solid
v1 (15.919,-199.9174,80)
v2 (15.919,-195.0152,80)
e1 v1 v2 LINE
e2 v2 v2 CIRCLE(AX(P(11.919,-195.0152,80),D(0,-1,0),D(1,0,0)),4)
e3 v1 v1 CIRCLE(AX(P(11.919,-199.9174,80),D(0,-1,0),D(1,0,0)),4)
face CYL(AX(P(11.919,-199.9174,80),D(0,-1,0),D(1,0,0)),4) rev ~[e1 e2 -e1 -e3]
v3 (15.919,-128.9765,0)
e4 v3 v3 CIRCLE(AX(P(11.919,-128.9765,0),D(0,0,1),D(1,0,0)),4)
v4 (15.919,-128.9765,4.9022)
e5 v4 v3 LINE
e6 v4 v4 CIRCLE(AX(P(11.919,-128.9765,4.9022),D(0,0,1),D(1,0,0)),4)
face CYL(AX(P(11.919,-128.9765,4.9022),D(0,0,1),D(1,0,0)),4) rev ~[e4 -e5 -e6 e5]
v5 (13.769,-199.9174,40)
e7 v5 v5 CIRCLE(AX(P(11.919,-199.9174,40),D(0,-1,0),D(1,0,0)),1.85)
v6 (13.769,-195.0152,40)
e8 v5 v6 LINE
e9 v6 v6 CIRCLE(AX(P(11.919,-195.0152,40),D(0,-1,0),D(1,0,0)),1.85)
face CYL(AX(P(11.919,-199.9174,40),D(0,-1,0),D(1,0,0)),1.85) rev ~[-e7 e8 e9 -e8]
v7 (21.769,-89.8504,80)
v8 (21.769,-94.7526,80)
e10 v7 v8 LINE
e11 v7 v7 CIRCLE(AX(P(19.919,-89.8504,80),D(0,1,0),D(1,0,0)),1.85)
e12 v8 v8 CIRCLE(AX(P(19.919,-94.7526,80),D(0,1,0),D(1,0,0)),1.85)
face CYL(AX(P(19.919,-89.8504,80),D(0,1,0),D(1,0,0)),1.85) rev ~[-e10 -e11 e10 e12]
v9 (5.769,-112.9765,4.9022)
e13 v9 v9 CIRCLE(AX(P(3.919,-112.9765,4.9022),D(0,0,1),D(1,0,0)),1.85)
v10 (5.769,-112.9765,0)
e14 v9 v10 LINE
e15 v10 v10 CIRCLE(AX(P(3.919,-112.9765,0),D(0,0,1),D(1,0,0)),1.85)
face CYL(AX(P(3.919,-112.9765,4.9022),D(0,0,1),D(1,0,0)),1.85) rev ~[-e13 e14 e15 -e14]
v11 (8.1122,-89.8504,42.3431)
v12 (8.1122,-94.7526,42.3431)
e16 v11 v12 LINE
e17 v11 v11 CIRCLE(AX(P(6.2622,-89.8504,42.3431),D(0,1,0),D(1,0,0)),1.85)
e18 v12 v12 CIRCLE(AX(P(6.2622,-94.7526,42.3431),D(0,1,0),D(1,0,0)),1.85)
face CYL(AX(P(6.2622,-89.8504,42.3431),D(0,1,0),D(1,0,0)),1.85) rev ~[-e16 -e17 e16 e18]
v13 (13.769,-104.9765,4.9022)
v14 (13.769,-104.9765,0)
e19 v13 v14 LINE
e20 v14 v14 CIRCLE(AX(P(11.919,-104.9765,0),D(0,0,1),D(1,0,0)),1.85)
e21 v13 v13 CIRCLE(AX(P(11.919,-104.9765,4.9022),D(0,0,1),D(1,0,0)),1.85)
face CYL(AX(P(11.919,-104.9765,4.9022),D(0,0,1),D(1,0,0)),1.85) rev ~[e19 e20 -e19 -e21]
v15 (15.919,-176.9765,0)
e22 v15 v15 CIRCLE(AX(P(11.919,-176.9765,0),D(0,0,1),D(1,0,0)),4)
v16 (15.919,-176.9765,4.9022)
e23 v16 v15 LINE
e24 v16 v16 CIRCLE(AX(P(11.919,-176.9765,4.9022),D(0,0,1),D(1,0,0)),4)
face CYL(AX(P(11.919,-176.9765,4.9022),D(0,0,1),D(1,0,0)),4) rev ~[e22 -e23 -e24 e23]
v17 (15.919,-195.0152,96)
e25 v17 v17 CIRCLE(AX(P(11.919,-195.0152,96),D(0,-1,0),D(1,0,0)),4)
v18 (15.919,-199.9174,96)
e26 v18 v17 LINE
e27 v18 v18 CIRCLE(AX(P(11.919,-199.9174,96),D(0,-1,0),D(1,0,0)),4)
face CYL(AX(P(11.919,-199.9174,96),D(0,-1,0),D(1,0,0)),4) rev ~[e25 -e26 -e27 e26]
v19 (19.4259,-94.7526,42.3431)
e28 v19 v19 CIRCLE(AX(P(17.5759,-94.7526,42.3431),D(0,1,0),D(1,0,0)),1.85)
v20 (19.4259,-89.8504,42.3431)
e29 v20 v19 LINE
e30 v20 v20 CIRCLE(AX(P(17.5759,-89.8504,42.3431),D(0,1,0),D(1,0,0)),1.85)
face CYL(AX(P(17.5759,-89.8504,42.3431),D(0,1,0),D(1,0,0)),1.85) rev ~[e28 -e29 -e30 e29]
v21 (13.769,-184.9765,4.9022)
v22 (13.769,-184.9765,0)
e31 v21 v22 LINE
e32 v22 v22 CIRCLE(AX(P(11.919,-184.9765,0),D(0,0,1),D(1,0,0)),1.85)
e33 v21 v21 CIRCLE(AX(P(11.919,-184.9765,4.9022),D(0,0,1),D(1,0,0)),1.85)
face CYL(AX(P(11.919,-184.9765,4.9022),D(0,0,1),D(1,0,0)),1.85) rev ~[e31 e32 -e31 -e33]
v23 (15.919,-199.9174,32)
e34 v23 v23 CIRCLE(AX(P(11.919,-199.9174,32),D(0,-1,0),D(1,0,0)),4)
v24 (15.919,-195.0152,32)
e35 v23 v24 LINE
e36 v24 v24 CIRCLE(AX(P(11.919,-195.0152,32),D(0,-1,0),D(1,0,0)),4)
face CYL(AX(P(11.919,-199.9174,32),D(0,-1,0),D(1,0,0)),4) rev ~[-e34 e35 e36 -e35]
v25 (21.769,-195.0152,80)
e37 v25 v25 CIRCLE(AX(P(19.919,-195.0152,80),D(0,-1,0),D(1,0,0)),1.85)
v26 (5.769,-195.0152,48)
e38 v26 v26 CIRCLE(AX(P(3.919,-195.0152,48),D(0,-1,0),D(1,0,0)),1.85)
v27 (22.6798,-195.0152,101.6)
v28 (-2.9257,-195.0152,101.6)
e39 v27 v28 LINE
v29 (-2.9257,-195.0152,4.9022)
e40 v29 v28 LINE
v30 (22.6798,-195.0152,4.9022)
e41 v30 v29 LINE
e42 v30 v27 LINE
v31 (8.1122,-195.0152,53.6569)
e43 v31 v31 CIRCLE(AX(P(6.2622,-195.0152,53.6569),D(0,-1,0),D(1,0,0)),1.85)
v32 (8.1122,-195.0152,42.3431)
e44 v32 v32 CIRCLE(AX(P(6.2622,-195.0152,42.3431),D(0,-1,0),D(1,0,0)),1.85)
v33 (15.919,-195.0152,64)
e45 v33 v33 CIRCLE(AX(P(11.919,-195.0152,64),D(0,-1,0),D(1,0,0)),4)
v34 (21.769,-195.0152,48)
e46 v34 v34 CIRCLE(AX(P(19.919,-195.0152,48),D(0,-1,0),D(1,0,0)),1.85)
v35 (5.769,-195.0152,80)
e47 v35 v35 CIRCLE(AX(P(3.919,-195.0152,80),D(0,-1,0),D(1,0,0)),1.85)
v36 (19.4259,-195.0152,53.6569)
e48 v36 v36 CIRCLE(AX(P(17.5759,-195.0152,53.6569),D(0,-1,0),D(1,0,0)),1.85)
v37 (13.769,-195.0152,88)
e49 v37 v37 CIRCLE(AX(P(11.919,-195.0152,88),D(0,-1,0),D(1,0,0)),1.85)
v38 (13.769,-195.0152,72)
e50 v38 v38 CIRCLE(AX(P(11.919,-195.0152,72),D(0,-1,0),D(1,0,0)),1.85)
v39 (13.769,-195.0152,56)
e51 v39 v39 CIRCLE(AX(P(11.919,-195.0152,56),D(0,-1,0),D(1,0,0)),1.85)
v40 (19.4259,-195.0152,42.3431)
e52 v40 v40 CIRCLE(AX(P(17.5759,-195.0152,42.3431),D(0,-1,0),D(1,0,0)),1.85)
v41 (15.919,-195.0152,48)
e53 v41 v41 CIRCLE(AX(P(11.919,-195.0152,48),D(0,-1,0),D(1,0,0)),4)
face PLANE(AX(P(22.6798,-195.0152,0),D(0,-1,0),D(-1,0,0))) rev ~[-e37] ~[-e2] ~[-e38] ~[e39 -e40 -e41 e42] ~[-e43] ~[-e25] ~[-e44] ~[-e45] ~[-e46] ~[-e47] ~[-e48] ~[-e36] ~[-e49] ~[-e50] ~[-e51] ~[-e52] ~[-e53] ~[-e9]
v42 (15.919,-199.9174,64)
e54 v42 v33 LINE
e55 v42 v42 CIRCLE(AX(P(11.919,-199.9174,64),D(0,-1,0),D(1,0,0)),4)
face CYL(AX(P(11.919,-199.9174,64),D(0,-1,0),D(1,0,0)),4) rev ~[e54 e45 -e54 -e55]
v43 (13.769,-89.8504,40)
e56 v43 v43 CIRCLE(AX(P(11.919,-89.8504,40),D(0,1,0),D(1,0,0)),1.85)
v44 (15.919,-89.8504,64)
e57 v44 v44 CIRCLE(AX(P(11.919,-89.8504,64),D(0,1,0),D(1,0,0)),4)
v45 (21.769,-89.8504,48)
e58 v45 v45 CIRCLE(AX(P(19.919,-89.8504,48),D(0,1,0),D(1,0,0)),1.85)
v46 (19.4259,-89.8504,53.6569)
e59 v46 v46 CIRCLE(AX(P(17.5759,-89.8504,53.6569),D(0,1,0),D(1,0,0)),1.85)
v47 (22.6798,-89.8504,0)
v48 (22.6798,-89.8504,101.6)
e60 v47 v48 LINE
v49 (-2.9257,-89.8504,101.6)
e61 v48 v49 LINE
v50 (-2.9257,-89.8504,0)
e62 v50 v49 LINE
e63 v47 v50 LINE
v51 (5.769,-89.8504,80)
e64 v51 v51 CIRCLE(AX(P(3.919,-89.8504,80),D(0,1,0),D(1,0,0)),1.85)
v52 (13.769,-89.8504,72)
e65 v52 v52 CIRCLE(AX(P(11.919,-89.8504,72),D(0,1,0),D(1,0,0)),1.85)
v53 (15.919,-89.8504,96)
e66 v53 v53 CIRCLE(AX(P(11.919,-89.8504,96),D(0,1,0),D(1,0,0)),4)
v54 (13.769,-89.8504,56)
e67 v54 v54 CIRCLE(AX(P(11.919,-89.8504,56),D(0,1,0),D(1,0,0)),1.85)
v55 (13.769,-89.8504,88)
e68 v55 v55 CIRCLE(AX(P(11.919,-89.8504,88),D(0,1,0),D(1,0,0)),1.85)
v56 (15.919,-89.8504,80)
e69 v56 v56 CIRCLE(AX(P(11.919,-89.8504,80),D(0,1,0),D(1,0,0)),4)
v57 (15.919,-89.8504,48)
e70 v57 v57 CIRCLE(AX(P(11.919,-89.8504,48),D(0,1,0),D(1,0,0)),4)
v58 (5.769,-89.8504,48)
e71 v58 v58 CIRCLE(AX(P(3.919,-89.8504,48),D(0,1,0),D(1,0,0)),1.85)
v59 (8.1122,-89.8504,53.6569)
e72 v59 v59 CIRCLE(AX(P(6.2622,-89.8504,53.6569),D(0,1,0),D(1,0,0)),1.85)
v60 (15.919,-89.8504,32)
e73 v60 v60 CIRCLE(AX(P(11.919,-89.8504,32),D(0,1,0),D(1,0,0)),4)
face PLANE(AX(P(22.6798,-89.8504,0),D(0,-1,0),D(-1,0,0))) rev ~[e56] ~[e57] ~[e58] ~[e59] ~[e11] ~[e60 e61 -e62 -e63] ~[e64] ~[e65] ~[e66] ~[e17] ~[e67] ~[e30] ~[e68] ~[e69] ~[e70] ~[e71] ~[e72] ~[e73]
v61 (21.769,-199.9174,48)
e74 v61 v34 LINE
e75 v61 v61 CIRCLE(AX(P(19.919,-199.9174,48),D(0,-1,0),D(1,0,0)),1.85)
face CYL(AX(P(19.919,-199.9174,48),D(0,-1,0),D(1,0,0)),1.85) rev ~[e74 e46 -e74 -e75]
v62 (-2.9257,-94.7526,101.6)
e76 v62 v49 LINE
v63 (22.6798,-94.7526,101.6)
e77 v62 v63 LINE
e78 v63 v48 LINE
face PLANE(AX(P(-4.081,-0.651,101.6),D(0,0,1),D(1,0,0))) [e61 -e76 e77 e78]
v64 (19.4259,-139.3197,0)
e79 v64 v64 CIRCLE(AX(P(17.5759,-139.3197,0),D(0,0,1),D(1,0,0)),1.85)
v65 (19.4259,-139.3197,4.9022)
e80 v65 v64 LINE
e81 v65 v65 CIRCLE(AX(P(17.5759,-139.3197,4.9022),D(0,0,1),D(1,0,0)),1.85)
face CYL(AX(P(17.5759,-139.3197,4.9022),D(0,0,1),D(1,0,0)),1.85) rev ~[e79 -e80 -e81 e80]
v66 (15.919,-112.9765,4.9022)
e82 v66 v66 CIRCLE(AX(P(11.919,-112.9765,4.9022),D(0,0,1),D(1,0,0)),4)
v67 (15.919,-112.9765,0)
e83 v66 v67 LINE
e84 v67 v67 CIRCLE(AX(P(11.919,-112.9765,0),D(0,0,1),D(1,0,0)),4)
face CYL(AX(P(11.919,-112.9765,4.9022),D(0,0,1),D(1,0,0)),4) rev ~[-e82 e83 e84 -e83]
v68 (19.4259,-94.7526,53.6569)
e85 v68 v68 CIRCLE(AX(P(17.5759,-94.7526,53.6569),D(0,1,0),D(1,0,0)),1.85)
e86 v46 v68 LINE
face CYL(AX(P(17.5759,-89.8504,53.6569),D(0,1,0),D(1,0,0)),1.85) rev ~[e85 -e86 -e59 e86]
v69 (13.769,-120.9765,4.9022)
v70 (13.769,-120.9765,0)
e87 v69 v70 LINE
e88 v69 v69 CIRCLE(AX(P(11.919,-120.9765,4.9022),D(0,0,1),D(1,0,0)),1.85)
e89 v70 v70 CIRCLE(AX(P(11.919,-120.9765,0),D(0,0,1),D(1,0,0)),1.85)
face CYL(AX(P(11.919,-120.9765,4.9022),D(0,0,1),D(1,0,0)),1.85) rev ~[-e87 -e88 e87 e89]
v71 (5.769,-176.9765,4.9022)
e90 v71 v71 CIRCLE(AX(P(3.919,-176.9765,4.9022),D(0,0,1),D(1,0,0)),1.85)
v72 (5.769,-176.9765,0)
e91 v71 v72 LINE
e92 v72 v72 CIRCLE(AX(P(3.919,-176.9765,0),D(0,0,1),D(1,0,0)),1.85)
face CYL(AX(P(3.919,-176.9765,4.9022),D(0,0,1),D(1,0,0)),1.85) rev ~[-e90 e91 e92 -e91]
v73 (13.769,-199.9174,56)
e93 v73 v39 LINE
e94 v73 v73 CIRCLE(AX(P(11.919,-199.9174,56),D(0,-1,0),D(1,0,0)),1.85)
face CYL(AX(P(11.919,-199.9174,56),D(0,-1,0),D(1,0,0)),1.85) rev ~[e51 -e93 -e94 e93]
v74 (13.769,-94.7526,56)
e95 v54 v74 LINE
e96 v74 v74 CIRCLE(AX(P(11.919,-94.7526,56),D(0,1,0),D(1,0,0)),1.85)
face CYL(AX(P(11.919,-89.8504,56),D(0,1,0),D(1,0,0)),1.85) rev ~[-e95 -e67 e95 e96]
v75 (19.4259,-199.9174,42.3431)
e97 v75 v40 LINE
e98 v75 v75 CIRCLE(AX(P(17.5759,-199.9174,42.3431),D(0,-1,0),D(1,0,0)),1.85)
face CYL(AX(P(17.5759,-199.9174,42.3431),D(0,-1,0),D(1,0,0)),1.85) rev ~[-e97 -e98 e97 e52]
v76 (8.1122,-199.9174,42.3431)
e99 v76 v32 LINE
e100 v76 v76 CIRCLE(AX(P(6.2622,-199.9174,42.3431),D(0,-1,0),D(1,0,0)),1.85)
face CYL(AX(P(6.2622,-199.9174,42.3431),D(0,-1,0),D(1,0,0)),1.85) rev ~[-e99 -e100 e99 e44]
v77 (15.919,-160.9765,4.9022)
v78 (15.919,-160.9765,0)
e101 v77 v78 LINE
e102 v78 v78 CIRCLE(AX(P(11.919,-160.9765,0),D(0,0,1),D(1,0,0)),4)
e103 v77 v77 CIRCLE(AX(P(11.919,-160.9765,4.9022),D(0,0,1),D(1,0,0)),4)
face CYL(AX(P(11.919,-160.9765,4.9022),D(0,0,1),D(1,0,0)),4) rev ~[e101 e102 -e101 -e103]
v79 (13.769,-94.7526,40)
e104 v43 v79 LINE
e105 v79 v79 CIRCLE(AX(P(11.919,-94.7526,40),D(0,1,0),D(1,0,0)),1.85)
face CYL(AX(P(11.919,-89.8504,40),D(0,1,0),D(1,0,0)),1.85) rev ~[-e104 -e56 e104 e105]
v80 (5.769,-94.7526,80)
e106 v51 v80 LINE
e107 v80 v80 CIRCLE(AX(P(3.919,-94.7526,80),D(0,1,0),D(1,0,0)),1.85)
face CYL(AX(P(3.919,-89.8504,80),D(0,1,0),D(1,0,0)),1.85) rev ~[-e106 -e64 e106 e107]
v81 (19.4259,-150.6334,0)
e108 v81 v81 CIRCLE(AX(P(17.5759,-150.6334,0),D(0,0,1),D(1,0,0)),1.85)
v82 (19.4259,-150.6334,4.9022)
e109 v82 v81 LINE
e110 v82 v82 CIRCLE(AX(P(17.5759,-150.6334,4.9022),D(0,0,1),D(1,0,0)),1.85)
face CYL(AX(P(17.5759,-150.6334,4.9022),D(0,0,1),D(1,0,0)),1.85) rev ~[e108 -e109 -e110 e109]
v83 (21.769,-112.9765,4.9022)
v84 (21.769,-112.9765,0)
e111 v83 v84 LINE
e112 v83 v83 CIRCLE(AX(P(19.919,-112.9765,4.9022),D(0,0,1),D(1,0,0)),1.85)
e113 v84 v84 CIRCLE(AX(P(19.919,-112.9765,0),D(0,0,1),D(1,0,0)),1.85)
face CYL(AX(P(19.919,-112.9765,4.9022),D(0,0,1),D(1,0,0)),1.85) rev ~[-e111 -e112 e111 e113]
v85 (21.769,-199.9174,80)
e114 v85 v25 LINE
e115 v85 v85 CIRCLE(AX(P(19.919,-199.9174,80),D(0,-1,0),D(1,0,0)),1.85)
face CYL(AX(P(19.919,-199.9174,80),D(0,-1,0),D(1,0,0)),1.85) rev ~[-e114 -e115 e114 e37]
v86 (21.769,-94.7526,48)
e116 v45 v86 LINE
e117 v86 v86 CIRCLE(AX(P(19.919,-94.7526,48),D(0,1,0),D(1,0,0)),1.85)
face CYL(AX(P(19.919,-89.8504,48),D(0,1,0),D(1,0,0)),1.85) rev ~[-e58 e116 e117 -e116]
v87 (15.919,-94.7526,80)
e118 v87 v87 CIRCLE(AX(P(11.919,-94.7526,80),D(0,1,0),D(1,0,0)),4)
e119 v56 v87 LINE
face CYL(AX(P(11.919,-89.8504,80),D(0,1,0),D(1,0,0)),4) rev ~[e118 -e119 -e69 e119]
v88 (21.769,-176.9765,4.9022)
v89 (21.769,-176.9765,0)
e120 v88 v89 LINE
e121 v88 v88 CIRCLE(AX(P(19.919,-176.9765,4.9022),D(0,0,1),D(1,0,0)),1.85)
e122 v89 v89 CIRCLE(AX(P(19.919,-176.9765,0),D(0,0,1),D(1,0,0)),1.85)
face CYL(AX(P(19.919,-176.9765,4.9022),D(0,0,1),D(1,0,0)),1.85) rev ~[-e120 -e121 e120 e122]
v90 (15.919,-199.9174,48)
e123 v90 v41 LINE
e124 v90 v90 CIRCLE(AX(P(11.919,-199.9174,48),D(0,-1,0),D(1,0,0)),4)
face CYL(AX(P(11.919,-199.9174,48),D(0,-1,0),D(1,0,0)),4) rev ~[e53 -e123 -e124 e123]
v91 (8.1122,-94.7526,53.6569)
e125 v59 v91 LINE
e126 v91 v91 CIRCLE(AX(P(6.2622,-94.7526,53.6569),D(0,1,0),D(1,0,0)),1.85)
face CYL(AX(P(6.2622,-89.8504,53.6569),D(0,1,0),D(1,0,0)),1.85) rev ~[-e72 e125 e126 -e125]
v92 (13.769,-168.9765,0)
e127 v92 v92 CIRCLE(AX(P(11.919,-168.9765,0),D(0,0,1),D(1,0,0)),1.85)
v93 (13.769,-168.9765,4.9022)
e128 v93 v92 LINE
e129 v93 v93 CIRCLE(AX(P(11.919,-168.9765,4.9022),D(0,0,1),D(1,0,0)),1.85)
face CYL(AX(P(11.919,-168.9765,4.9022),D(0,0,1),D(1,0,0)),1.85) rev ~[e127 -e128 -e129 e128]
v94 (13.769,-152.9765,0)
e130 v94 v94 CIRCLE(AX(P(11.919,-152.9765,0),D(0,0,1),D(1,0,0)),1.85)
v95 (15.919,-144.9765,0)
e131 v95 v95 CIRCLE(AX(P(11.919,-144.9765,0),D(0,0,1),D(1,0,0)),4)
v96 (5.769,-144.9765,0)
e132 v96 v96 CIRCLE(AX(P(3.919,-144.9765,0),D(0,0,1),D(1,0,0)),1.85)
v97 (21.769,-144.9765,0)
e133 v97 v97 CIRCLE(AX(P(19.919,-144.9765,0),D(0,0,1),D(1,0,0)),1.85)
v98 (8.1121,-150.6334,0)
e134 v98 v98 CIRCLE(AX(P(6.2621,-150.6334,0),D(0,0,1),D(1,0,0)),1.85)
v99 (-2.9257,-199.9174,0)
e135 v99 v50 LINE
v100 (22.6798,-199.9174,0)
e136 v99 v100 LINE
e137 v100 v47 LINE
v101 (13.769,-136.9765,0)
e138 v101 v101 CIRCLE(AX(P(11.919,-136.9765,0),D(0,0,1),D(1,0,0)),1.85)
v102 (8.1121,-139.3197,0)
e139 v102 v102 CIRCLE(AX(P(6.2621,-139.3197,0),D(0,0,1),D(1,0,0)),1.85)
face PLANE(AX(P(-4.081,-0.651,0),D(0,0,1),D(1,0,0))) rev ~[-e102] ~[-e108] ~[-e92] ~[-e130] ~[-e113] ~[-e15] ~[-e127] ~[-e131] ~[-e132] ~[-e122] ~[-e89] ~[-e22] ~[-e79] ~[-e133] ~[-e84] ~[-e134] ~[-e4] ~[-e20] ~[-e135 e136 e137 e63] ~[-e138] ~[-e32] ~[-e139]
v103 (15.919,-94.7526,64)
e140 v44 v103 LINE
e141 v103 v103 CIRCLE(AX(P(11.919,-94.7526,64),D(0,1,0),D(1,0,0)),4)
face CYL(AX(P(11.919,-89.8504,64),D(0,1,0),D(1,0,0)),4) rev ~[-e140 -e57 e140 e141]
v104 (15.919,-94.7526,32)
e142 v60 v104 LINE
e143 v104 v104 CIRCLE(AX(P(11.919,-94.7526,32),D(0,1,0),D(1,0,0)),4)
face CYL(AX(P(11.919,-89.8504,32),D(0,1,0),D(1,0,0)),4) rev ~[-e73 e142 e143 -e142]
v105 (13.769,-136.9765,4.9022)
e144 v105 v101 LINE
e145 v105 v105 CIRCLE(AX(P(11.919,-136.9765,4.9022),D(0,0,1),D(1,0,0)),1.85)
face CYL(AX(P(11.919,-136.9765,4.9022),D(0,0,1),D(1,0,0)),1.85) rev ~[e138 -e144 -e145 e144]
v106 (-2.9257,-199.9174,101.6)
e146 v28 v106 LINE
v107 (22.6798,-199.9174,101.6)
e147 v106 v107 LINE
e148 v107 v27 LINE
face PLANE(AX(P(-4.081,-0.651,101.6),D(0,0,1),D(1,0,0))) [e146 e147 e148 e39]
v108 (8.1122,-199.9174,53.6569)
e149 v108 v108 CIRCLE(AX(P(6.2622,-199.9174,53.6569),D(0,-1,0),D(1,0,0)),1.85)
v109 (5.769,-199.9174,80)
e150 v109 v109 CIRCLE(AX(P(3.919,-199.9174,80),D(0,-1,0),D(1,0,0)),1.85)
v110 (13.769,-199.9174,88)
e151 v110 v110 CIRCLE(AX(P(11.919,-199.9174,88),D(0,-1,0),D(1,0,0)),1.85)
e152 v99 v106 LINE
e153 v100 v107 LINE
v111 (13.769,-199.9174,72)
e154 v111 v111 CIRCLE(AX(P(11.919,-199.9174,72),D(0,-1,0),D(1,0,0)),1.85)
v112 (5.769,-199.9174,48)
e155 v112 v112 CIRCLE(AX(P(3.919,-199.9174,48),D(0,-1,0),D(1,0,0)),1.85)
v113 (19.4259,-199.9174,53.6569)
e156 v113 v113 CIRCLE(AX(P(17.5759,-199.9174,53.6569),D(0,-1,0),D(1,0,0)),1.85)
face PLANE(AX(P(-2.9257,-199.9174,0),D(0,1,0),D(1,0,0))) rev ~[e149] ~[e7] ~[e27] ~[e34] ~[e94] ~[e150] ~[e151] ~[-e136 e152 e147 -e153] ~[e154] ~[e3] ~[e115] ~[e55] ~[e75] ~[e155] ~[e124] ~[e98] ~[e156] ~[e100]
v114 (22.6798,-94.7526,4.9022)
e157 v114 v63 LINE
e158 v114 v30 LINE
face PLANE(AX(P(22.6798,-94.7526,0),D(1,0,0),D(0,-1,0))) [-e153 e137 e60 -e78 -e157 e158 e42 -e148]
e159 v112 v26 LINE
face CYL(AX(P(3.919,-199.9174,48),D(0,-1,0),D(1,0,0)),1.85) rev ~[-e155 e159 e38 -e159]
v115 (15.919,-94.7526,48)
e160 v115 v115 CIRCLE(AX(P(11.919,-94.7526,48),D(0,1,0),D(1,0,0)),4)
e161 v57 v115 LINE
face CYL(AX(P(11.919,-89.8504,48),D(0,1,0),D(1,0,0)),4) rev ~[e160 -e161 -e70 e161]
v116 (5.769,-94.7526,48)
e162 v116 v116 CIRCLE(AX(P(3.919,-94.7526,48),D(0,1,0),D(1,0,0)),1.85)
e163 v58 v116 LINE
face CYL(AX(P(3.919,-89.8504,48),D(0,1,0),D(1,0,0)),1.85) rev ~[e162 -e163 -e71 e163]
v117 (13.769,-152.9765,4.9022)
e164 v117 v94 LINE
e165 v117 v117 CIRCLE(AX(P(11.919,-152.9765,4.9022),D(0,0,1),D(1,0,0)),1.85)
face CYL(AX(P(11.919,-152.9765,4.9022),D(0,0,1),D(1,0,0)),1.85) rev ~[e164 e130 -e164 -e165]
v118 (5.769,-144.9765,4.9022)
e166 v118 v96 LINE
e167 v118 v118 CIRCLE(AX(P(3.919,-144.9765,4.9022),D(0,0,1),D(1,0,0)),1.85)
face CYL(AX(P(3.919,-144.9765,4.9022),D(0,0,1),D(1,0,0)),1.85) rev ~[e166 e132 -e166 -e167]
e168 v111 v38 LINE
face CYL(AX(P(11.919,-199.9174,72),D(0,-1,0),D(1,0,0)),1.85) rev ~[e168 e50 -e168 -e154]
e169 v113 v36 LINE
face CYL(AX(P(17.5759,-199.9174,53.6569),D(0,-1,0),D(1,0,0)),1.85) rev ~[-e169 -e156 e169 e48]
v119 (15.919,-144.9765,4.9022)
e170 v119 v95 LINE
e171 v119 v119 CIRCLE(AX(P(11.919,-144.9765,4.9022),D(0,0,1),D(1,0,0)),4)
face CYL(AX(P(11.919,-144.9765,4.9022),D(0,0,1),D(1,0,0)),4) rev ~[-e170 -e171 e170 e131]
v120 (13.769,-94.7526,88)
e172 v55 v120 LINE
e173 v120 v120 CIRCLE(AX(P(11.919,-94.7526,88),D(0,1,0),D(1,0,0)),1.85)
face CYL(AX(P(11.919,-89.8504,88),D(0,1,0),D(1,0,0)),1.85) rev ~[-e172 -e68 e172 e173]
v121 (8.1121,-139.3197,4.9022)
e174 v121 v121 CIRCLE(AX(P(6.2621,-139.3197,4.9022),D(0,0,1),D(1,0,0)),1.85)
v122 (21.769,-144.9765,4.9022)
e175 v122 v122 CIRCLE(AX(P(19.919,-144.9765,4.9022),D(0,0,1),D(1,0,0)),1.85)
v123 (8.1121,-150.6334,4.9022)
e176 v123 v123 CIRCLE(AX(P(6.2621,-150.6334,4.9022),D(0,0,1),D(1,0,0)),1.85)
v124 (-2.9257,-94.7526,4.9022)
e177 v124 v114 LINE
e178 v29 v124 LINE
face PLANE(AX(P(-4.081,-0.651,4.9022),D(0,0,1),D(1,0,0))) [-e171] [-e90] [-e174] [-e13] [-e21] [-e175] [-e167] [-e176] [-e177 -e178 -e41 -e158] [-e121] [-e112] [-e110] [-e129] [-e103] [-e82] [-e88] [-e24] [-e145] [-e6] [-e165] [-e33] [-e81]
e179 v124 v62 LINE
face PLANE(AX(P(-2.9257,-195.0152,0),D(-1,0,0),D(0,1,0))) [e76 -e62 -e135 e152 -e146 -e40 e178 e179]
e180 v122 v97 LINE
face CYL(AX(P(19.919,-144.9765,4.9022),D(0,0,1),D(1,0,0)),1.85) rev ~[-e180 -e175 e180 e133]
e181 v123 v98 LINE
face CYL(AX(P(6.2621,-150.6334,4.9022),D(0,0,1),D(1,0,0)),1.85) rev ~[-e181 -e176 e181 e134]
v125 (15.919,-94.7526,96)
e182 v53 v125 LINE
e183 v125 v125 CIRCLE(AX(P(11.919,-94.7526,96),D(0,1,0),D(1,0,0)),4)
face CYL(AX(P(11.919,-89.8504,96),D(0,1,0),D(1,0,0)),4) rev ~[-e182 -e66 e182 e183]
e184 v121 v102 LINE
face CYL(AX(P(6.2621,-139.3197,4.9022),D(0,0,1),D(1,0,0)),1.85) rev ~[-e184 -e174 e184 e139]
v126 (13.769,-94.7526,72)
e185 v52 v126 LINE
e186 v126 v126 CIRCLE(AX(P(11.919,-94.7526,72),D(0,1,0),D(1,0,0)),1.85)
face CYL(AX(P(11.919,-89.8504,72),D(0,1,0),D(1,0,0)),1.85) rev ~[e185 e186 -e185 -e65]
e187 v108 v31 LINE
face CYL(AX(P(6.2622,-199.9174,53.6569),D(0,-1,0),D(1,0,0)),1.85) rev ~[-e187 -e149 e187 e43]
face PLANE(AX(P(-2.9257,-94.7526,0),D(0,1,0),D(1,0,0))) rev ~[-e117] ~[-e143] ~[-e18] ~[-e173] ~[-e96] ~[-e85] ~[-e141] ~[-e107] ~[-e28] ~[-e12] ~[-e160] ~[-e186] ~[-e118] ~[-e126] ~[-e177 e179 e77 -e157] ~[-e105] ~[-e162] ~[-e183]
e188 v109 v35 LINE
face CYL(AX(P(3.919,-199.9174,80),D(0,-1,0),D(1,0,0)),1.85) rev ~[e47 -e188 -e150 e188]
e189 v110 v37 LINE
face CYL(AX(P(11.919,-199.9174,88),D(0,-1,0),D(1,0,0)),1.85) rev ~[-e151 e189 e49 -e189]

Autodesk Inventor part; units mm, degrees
ref_plane "YZ Plane" through (0, 0, 0) normal (1, 0, 0) x (0, 1, 0)
ref_plane "XZ Plane" through (0, 0, 0) normal (0, 1, 0) x (-1, 0, 0)
ref_plane "XY Plane" through (0, 0, 0) normal (0, 0, 1) x (1, 0, 0)
ref_plane "Work Plane1" through (-4.081, -0.651, 0) normal (0, 0, 1) x (1, 0, 0)
sketch "Sketch1" plane through (-4.081, -0.651, 0) normal (0, 0, 1) x (1, 0, 0)
  line L0 (1.1553, -194.3642) -> (1.1553, -199.2664)
  line L1 (1.1553, -94.1016) -> (1.1553, -89.1994)
  line L2 (1.1553, -199.2664) -> (26.7608, -199.2664)
  line L3 (26.7608, -199.2664) -> (26.7608, -194.3642)
  line L4 (26.7608, -194.3642) -> (1.1553, -194.3642)
  line L5 (1.1553, -194.3642) -> (1.1553, -94.1016)
  line L6 (1.1553, -94.1016) -> (26.7608, -94.1016)
  line L7 (26.7608, -94.1016) -> (26.7608, -89.1994)
  line L8 (26.7608, -89.1994) -> (1.1553, -89.1994)
  point P0 (4.081, 0.651)
  dimension "d8" = 20.4978
  dimension "d11" = 0
  dimension "d0" = 4.9022
  dimension "d1" = 4.9022
extrude "Extrusion1" add sketch "Sketch1" along normal blind 101.6
ref_plane "Work Plane2" through (-4.081, -0.651, 0) normal (0, 0, 1) x (1, 0, 0)
sketch "Sketch2" plane through (-4.081, -0.651, 0) normal (0, 0, 1) x (1, 0, 0)
  line L0 (1.1553, -194.3642) -> (1.1553, -199.2664) projected
  line L1 (1.1553, -94.1016) -> (26.7608, -94.1016) projected
  line L2 (1.1553, -194.3642) -> (1.1553, -94.1016)
  line L3 (1.1553, -94.1016) -> (26.7608, -94.1016)
  line L4 (26.7608, -194.3642) -> (1.1553, -194.3642) projected
  line L5 (26.7608, -94.1016) -> (26.7608, -194.3642)
  line L6 (26.7608, -194.3642) -> (1.1553, -194.3642)
  point P0 (4.081, 0.651)
  dimension "d8" = 20.4978
  dimension "d11" = 0
extrude "Extrusion2" add sketch "Sketch2" along normal blind 4.9022
sketch "Sketch3" plane through (-2.9257, -199.9174, 0) normal (0, -1, 0) x (1, 0, 0)
  circle A0 centre (14.8447, 24) radius 1.85 projected
  circle A1 centre (14.8447, 8) radius 1.85 projected
  circle A2 centre (6.8447, 16) radius 1.85 projected
  circle A3 centre (22.8447, 16) radius 1.85 projected
  circle A4 centre (14.8447, 16) radius 4 projected
  circle A5 centre (14.8447, 16) radius 4
  circle A6 centre (6.8447, 16) radius 1.85
  circle A7 centre (14.8447, 8) radius 1.85
  circle A8 centre (14.8447, 24) radius 1.85
  circle A9 centre (22.8447, 16) radius 1.85
  point P0 (2.9257, 0)
sketch "Sketch4" plane through (-2.9257, -89.8504, 0) normal (0, 1, 0) x (1, 0, 0)
  line L0 (28.3447, 32) -> (28.3447, -384) projected
  line L1 (28.3447, 32) -> (1.3447, 32) projected
  arc A0 (1.3447, 32) -> (-1.1553, 29.5) centre (1.3447, 29.5) ccw projected
  line L2 (-1.1553, -381.5) -> (-1.1553, 29.5) projected
  arc A1 (-1.1553, -381.5) -> (1.3447, -384) centre (1.3447, -381.5) ccw projected
  line L3 (28.3447, -384) -> (1.3447, -384) projected
  circle A2 centre (14.8447, -256) radius 4 projected
  circle A3 centre (14.8447, -288) radius 4 projected
  circle A4 centre (14.8447, -320) radius 4 projected
  circle A5 centre (14.8447, -352) radius 4 projected
  circle A6 centre (14.8447, 16) radius 4 projected
  circle A7 centre (6.8447, 16) radius 1.85 projected
  circle A8 centre (22.8447, 16) radius 1.85 projected
  circle A9 centre (14.8447, 8) radius 1.85 projected
  circle A10 centre (14.8447, 24) radius 1.85 projected
  circle A11 centre (9.1879, 10.3431) radius 1.85 projected
  circle A12 centre (9.1879, 21.6569) radius 1.85 projected
  circle A13 centre (20.5016, 21.6569) radius 1.85 projected
  circle A14 centre (20.5016, 10.3431) radius 1.85 projected
  circle A15 centre (14.8447, -48) radius 4 projected
  circle A16 centre (6.8447, -48) radius 1.85 projected
  circle A17 centre (22.8447, -48) radius 1.85 projected
  circle A18 centre (14.8447, -56) radius 1.85 projected
  circle A19 centre (14.8447, -40) radius 1.85 projected
  circle A20 centre (9.1879, -53.6569) radius 1.85 projected
  circle A21 centre (9.1879, -42.3431) radius 1.85 projected
  circle A22 centre (20.5016, -42.3431) radius 1.85 projected
  circle A23 centre (20.5016, -53.6569) radius 1.85 projected
  circle A24 centre (14.8447, -112) radius 4 projected
  circle A25 centre (6.8447, -112) radius 1.85 projected
  circle A26 centre (22.8447, -112) radius 1.85 projected
  circle A27 centre (14.8447, -120) radius 1.85 projected
  circle A28 centre (14.8447, -104) radius 1.85 projected
  circle A29 centre (9.1879, -117.6569) radius 1.85 projected
  circle A30 centre (9.1879, -106.3431) radius 1.85 projected
  circle A31 centre (20.5016, -106.3431) radius 1.85 projected
  circle A32 centre (20.5016, -117.6569) radius 1.85 projected
  circle A33 centre (14.8447, -176) radius 4 projected
  circle A34 centre (6.8447, -176) radius 1.85 projected
  circle A35 centre (22.8447, -176) radius 1.85 projected
  circle A36 centre (14.8447, -184) radius 1.85 projected
  circle A37 centre (14.8447, -168) radius 1.85 projected
  circle A38 centre (9.1879, -181.6569) radius 1.85 projected
  circle A39 centre (9.1879, -170.3431) radius 1.85 projected
  circle A40 centre (20.5016, -170.3431) radius 1.85 projected
  circle A41 centre (20.5016, -181.6569) radius 1.85 projected
  circle A42 centre (14.8447, -240) radius 4 projected
  circle A43 centre (6.8447, -240) radius 1.85 projected
  circle A44 centre (22.8447, -240) radius 1.85 projected
  circle A45 centre (14.8447, -248) radius 1.85 projected
  circle A46 centre (14.8447, -232) radius 1.85 projected
  circle A47 centre (9.1879, -245.6569) radius 1.85 projected
  circle A48 centre (9.1879, -234.3431) radius 1.85 projected
  circle A49 centre (20.5016, -234.3431) radius 1.85 projected
  circle A50 centre (20.5016, -245.6569) radius 1.85 projected
  circle A51 centre (14.8447, -304) radius 4 projected
  circle A52 centre (6.8447, -304) radius 1.85 projected
  circle A53 centre (22.8447, -304) radius 1.85 projected
  circle A54 centre (14.8447, -312) radius 1.85 projected
  circle A55 centre (14.8447, -296) radius 1.85 projected
  circle A56 centre (9.1879, -309.6569) radius 1.85 projected
  circle A57 centre (9.1879, -298.3431) radius 1.85 projected
  circle A58 centre (20.5016, -298.3431) radius 1.85 projected
  circle A59 centre (20.5016, -309.6569) radius 1.85 projected
  circle A60 centre (14.8447, -368) radius 4 projected
  circle A61 centre (6.8447, -368) radius 1.85 projected
  circle A62 centre (22.8447, -368) radius 1.85 projected
  circle A63 centre (14.8447, -376) radius 1.85 projected
  circle A64 centre (14.8447, -360) radius 1.85 projected
  circle A65 centre (9.1879, -373.6569) radius 1.85 projected
  circle A66 centre (9.1879, -362.3431) radius 1.85 projected
  circle A67 centre (20.5016, -362.3431) radius 1.85 projected
  circle A68 centre (20.5016, -373.6569) radius 1.85 projected
  circle A69 centre (14.8447, -16) radius 4 projected
  circle A70 centre (6.8447, -16) radius 1.85 projected
  circle A71 centre (14.8447, -24) radius 1.85 projected
  circle A72 centre (22.8447, -16) radius 1.85 projected
  circle A73 centre (14.8447, -8) radius 1.85 projected
  circle A74 centre (14.8447, -80) radius 4 projected
  circle A75 centre (6.8447, -80) radius 1.85 projected
  circle A76 centre (14.8447, -88) radius 1.85 projected
  circle A77 centre (22.8447, -80) radius 1.85 projected
  circle A78 centre (14.8447, -72) radius 1.85 projected
  circle A79 centre (14.8447, -144) radius 4 projected
  circle A80 centre (6.8447, -144) radius 1.85 projected
  circle A81 centre (14.8447, -152) radius 1.85 projected
  circle A82 centre (22.8447, -144) radius 1.85 projected
  circle A83 centre (14.8447, -136) radius 1.85 projected
  circle A84 centre (14.8447, -208) radius 4 projected
  circle A85 centre (6.8447, -208) radius 1.85 projected
  circle A86 centre (14.8447, -216) radius 1.85 projected
  circle A87 centre (22.8447, -208) radius 1.85 projected
  circle A88 centre (14.8447, -200) radius 1.85 projected
  circle A89 centre (14.8447, -272) radius 4 projected
  circle A90 centre (6.8447, -272) radius 1.85 projected
  circle A91 centre (14.8447, -280) radius 1.85 projected
  circle A92 centre (22.8447, -272) radius 1.85 projected
  circle A93 centre (14.8447, -264) radius 1.85 projected
  circle A94 centre (14.8447, -336) radius 4 projected
  circle A95 centre (6.8447, -336) radius 1.85 projected
  circle A96 centre (14.8447, -344) radius 1.85 projected
  circle A97 centre (22.8447, -336) radius 1.85 projected
  circle A98 centre (14.8447, -328) radius 1.85 projected
  circle A99 centre (14.8447, 0) radius 4 projected
  circle A100 centre (14.8447, -32) radius 4 projected
  circle A101 centre (14.8447, -64) radius 4 projected
  circle A102 centre (14.8447, -96) radius 4 projected
  circle A103 centre (14.8447, -128) radius 4 projected
  circle A104 centre (14.8447, -160) radius 4 projected
  circle A105 centre (14.8447, -192) radius 4 projected
  circle A106 centre (14.8447, -224) radius 4 projected
  circle A107 centre (14.8447, -96) radius 4
  circle A108 centre (14.8447, -88) radius 1.85
  circle A109 centre (6.8447, -80) radius 1.85
  circle A110 centre (14.8447, -80) radius 4
  circle A111 centre (22.8447, -80) radius 1.85
  circle A112 centre (14.8447, -72) radius 1.85
  circle A113 centre (14.8447, -64) radius 4
  circle A114 centre (14.8447, -56) radius 1.85
  circle A115 centre (9.1879, -53.6569) radius 1.85
  circle A116 centre (6.8447, -48) radius 1.85
  circle A117 centre (14.8447, -48) radius 4
  circle A118 centre (20.5016, -53.6569) radius 1.85
  circle A119 centre (22.8447, -48) radius 1.85
  circle A120 centre (20.5016, -42.3431) radius 1.85
  circle A121 centre (14.8447, -40) radius 1.85
  circle A122 centre (9.1879, -42.3431) radius 1.85
  circle A123 centre (14.8447, -32) radius 4
  point P0 (2.9257, 0)
extrude "Extrusion3" cut sketch "Sketch4" against normal blind 20.7772 contours A15 | A16 | A17 | A18 | A19 | A20 | A21 | A22 | A23 | A74 | A75 | A76 | A77 | A78 | A100 | A101 | A102
sketch "Sketch5" plane through (-4.081, -0.651, 4.9022) normal (0, 0, 1) x (1, 0, 0)
  line L0 (29.5, -0.3255) -> (29.5, -288.3255) projected
  line L1 (29.5, -0.3255) -> (2.5, -0.3255) projected
  line L2 (2.5, -0.3255) -> (2.5, -288.3255) projected
  line L3 (29.5, -288.3255) -> (2.5, -288.3255) projected
  circle A0 centre (16, -160.3255) radius 4 projected
  circle A1 centre (16, -192.3255) radius 4 projected
  circle A2 centre (16, -224.3255) radius 4 projected
  circle A3 centre (16, -256.3255) radius 4 projected
  circle A4 centre (16, -16.3255) radius 4 projected
  circle A5 centre (8, -16.3255) radius 1.85 projected
  circle A6 centre (10.3431, -21.9824) radius 1.85 projected
  circle A7 centre (16, -24.3255) radius 1.85 projected
  circle A8 centre (21.6569, -21.9824) radius 1.85 projected
  circle A9 centre (24, -16.3255) radius 1.85 projected
  circle A10 centre (21.6569, -10.6687) radius 1.85 projected
  circle A11 centre (16, -8.3255) radius 1.85 projected
  circle A12 centre (10.3431, -10.6687) radius 1.85 projected
  circle A13 centre (16, -80.3255) radius 4 projected
  circle A14 centre (8, -80.3255) radius 1.85 projected
  circle A15 centre (10.3431, -85.9824) radius 1.85 projected
  circle A16 centre (16, -88.3255) radius 1.85 projected
  circle A17 centre (21.6569, -85.9824) radius 1.85 projected
  circle A18 centre (24, -80.3255) radius 1.85 projected
  circle A19 centre (21.6569, -74.6687) radius 1.85 projected
  circle A20 centre (16, -72.3255) radius 1.85 projected
  circle A21 centre (10.3431, -74.6687) radius 1.85 projected
  circle A22 centre (16, -144.3255) radius 4 projected
  circle A23 centre (8, -144.3255) radius 1.85 projected
  circle A24 centre (10.3431, -149.9824) radius 1.85 projected
  circle A25 centre (16, -152.3255) radius 1.85 projected
  circle A26 centre (21.6569, -149.9824) radius 1.85 projected
  circle A27 centre (24, -144.3255) radius 1.85 projected
  circle A28 centre (21.6569, -138.6687) radius 1.85 projected
  circle A29 centre (16, -136.3255) radius 1.85 projected
  circle A30 centre (10.3431, -138.6687) radius 1.85 projected
  circle A31 centre (16, -208.3255) radius 4 projected
  circle A32 centre (8, -208.3255) radius 1.85 projected
  circle A33 centre (10.3431, -213.9824) radius 1.85 projected
  circle A34 centre (16, -216.3255) radius 1.85 projected
  circle A35 centre (21.6569, -213.9824) radius 1.85 projected
  circle A36 centre (24, -208.3255) radius 1.85 projected
  circle A37 centre (21.6569, -202.6687) radius 1.85 projected
  circle A38 centre (16, -200.3255) radius 1.85 projected
  circle A39 centre (10.3431, -202.6687) radius 1.85 projected
  circle A40 centre (16, -272.3255) radius 4 projected
  circle A41 centre (8, -272.3255) radius 1.85 projected
  circle A42 centre (10.3431, -277.9824) radius 1.85 projected
  circle A43 centre (16, -280.3255) radius 1.85 projected
  circle A44 centre (21.6569, -277.9824) radius 1.85 projected
  circle A45 centre (24, -272.3255) radius 1.85 projected
  circle A46 centre (21.6569, -266.6687) radius 1.85 projected
  circle A47 centre (16, -264.3255) radius 1.85 projected
  circle A48 centre (10.3431, -266.6687) radius 1.85 projected
  circle A49 centre (16, -48.3255) radius 4 projected
  circle A50 centre (8, -48.3255) radius 1.85 projected
  circle A51 centre (16, -56.3255) radius 1.85 projected
  circle A52 centre (24, -48.3255) radius 1.85 projected
  circle A53 centre (16, -40.3255) radius 1.85 projected
  circle A54 centre (16, -112.3255) radius 4 projected
  circle A55 centre (8, -112.3255) radius 1.85 projected
  circle A56 centre (16, -120.3255) radius 1.85 projected
  circle A57 centre (24, -112.3255) radius 1.85 projected
  circle A58 centre (16, -104.3255) radius 1.85 projected
  circle A59 centre (16, -176.3255) radius 4 projected
  circle A60 centre (8, -176.3255) radius 1.85 projected
  circle A61 centre (16, -184.3255) radius 1.85 projected
  circle A62 centre (24, -176.3255) radius 1.85 projected
  circle A63 centre (16, -168.3255) radius 1.85 projected
  circle A64 centre (16, -240.3255) radius 4 projected
  circle A65 centre (8, -240.3255) radius 1.85 projected
  circle A66 centre (16, -248.3255) radius 1.85 projected
  circle A67 centre (24, -240.3255) radius 1.85 projected
  circle A68 centre (16, -232.3255) radius 1.85 projected
  circle A69 centre (16, -32.3255) radius 4 projected
  circle A70 centre (16, -64.3255) radius 4 projected
  circle A71 centre (16, -96.3255) radius 4 projected
  circle A72 centre (16, -128.3255) radius 4 projected
  circle A73 centre (16, -176.3255) radius 4
  circle A74 centre (16, -184.3255) radius 1.85
  circle A75 centre (8, -176.3255) radius 1.85
  circle A76 centre (16, -168.3255) radius 1.85
  circle A77 centre (24, -176.3255) radius 1.85
  circle A78 centre (16, -160.3255) radius 4
  circle A79 centre (16, -144.3255) radius 4
  circle A80 centre (8, -144.3255) radius 1.85
  circle A81 centre (10.3431, -149.9824) radius 1.85
  circle A82 centre (16, -152.3255) radius 1.85
  circle A83 centre (21.6569, -149.9824) radius 1.85
  circle A84 centre (24, -144.3255) radius 1.85
  circle A85 centre (21.6569, -138.6687) radius 1.85
  circle A86 centre (16, -136.3255) radius 1.85
  circle A87 centre (10.3431, -138.6687) radius 1.85
  circle A88 centre (16, -128.3255) radius 4
  circle A89 centre (16, -120.3255) radius 1.85
  circle A90 centre (16, -112.3255) radius 4
  circle A91 centre (8, -112.3255) radius 1.85
  circle A92 centre (24, -112.3255) radius 1.85
  circle A93 centre (16, -104.3255) radius 1.85
  point P0 (4.081, 0.651)
extrude "Extrusion4" cut sketch "Sketch5" against normal blind 20.4978 contours A0 | A22 | A23 | A24 | A25 | A26 | A27 | A28 | A29 | A30 | A54 | A55 | A56 | A57 | A58 | A59 | A60 | A61 | A62 | A63 | A72
sketch "Sketch6" plane through (-2.9257, -199.9174, 0) normal (0, -1, 0) x (1, 0, 0)
  line L0 (28.3447, -32) -> (28.3447, 384) projected
  line L1 (1.3447, 384) -> (28.3447, 384) projected
  arc A0 (1.3447, 384) -> (-1.1553, 381.5) centre (1.3447, 381.5) ccw projected
  line L2 (-1.1553, 381.5) -> (-1.1553, -29.5) projected
  arc A1 (-1.1553, -29.5) -> (1.3447, -32) centre (1.3447, -29.5) ccw projected
  line L3 (1.3447, -32) -> (28.3447, -32) projected
  circle A2 centre (14.8447, 256) radius 4 projected
  circle A3 centre (14.8447, 288) radius 4 projected
  circle A4 centre (14.8447, 320) radius 4 projected
  circle A5 centre (14.8447, 352) radius 4 projected
  circle A6 centre (14.8447, -16) radius 4 projected
  circle A7 centre (6.8447, -16) radius 1.85 projected
  circle A8 centre (22.8447, -16) radius 1.85 projected
  circle A9 centre (14.8447, -8) radius 1.85 projected
  circle A10 centre (14.8447, -24) radius 1.85 projected
  circle A11 centre (9.1879, -10.3431) radius 1.85 projected
  circle A12 centre (9.1879, -21.6569) radius 1.85 projected
  circle A13 centre (20.5016, -21.6569) radius 1.85 projected
  circle A14 centre (20.5016, -10.3431) radius 1.85 projected
  circle A15 centre (14.8447, 48) radius 4 projected
  circle A16 centre (6.8447, 48) radius 1.85 projected
  circle A17 centre (22.8447, 48) radius 1.85 projected
  circle A18 centre (14.8447, 56) radius 1.85 projected
  circle A19 centre (14.8447, 40) radius 1.85 projected
  circle A20 centre (9.1879, 53.6569) radius 1.85 projected
  circle A21 centre (9.1879, 42.3431) radius 1.85 projected
  circle A22 centre (20.5016, 42.3431) radius 1.85 projected
  circle A23 centre (20.5016, 53.6569) radius 1.85 projected
  circle A24 centre (14.8447, 112) radius 4 projected
  circle A25 centre (6.8447, 112) radius 1.85 projected
  circle A26 centre (22.8447, 112) radius 1.85 projected
  circle A27 centre (14.8447, 120) radius 1.85 projected
  circle A28 centre (14.8447, 104) radius 1.85 projected
  circle A29 centre (9.1879, 117.6569) radius 1.85 projected
  circle A30 centre (9.1879, 106.3431) radius 1.85 projected
  circle A31 centre (20.5016, 106.3431) radius 1.85 projected
  circle A32 centre (20.5016, 117.6569) radius 1.85 projected
  circle A33 centre (14.8447, 176) radius 4 projected
  circle A34 centre (6.8447, 176) radius 1.85 projected
  circle A35 centre (22.8447, 176) radius 1.85 projected
  circle A36 centre (14.8447, 184) radius 1.85 projected
  circle A37 centre (14.8447, 168) radius 1.85 projected
  circle A38 centre (9.1879, 181.6569) radius 1.85 projected
  circle A39 centre (9.1879, 170.3431) radius 1.85 projected
  circle A40 centre (20.5016, 170.3431) radius 1.85 projected
  circle A41 centre (20.5016, 181.6569) radius 1.85 projected
  circle A42 centre (14.8447, 240) radius 4 projected
  circle A43 centre (6.8447, 240) radius 1.85 projected
  circle A44 centre (22.8447, 240) radius 1.85 projected
  circle A45 centre (14.8447, 248) radius 1.85 projected
  circle A46 centre (14.8447, 232) radius 1.85 projected
  circle A47 centre (9.1879, 245.6569) radius 1.85 projected
  circle A48 centre (9.1879, 234.3431) radius 1.85 projected
  circle A49 centre (20.5016, 234.3431) radius 1.85 projected
  circle A50 centre (20.5016, 245.6569) radius 1.85 projected
  circle A51 centre (14.8447, 304) radius 4 projected
  circle A52 centre (6.8447, 304) radius 1.85 projected
  circle A53 centre (22.8447, 304) radius 1.85 projected
  circle A54 centre (14.8447, 312) radius 1.85 projected
  circle A55 centre (14.8447, 296) radius 1.85 projected
  circle A56 centre (9.1879, 309.6569) radius 1.85 projected
  circle A57 centre (9.1879, 298.3431) radius 1.85 projected
  circle A58 centre (20.5016, 298.3431) radius 1.85 projected
  circle A59 centre (20.5016, 309.6569) radius 1.85 projected
  circle A60 centre (14.8447, 368) radius 4 projected
  circle A61 centre (6.8447, 368) radius 1.85 projected
  circle A62 centre (22.8447, 368) radius 1.85 projected
  circle A63 centre (14.8447, 376) radius 1.85 projected
  circle A64 centre (14.8447, 360) radius 1.85 projected
  circle A65 centre (9.1879, 373.6569) radius 1.85 projected
  circle A66 centre (9.1879, 362.3431) radius 1.85 projected
  circle A67 centre (20.5016, 362.3431) radius 1.85 projected
  circle A68 centre (20.5016, 373.6569) radius 1.85 projected
  circle A69 centre (14.8447, 16) radius 4 projected
  circle A70 centre (6.8447, 16) radius 1.85 projected
  circle A71 centre (14.8447, 24) radius 1.85 projected
  circle A72 centre (22.8447, 16) radius 1.85 projected
  circle A73 centre (14.8447, 8) radius 1.85 projected
  circle A74 centre (14.8447, 80) radius 4 projected
  circle A75 centre (6.8447, 80) radius 1.85 projected
  circle A76 centre (14.8447, 88) radius 1.85 projected
  circle A77 centre (22.8447, 80) radius 1.85 projected
  circle A78 centre (14.8447, 72) radius 1.85 projected
  circle A79 centre (14.8447, 144) radius 4 projected
  circle A80 centre (6.8447, 144) radius 1.85 projected
  circle A81 centre (14.8447, 152) radius 1.85 projected
  circle A82 centre (22.8447, 144) radius 1.85 projected
  circle A83 centre (14.8447, 136) radius 1.85 projected
  circle A84 centre (14.8447, 208) radius 4 projected
  circle A85 centre (6.8447, 208) radius 1.85 projected
  circle A86 centre (14.8447, 216) radius 1.85 projected
  circle A87 centre (22.8447, 208) radius 1.85 projected
  circle A88 centre (14.8447, 200) radius 1.85 projected
  circle A89 centre (14.8447, 272) radius 4 projected
  circle A90 centre (6.8447, 272) radius 1.85 projected
  circle A91 centre (14.8447, 280) radius 1.85 projected
  circle A92 centre (22.8447, 272) radius 1.85 projected
  circle A93 centre (14.8447, 264) radius 1.85 projected
  circle A94 centre (14.8447, 336) radius 4 projected
  circle A95 centre (6.8447, 336) radius 1.85 projected
  circle A96 centre (14.8447, 344) radius 1.85 projected
  circle A97 centre (22.8447, 336) radius 1.85 projected
  circle A98 centre (14.8447, 328) radius 1.85 projected
  circle A99 centre (14.8447, 0) radius 4 projected
  circle A100 centre (14.8447, 32) radius 4 projected
  circle A101 centre (14.8447, 64) radius 4 projected
  circle A102 centre (14.8447, 96) radius 4 projected
  circle A103 centre (14.8447, 128) radius 4 projected
  circle A104 centre (14.8447, 160) radius 4 projected
  circle A105 centre (14.8447, 192) radius 4 projected
  circle A106 centre (14.8447, 224) radius 4 projected
  circle A107 centre (14.8447, 32) radius 4 projected
  circle A108 centre (14.8447, 32) radius 4
  circle A109 centre (14.8447, 40) radius 1.85 projected
  circle A110 centre (14.8447, 40) radius 1.85
  circle A111 centre (9.1879, 42.3431) radius 1.85
  circle A112 centre (6.8447, 48) radius 1.85
  circle A113 centre (9.1879, 53.6569) radius 1.85 projected
  circle A114 centre (9.1879, 53.6569) radius 1.85
  circle A115 centre (14.8447, 56) radius 1.85 projected
  circle A116 centre (14.8447, 56) radius 1.85
  circle A117 centre (20.5016, 53.6569) radius 1.85
  circle A118 centre (22.8447, 48) radius 1.85 projected
  circle A119 centre (22.8447, 48) radius 1.85
  circle A120 centre (20.5016, 42.3431) radius 1.85
  circle A121 centre (14.8447, 48) radius 4
  circle A122 centre (14.8447, 64) radius 4
  circle A123 centre (14.8447, 72) radius 1.85 projected
  circle A124 centre (14.8447, 72) radius 1.85
  circle A125 centre (14.8447, 80) radius 4
  circle A126 centre (6.8447, 80) radius 1.85
  circle A127 centre (14.8447, 88) radius 1.85 projected
  circle A128 centre (14.8447, 88) radius 1.85
  circle A129 centre (22.8447, 80) radius 1.85 projected
  circle A130 centre (22.8447, 80) radius 1.85
  circle A131 centre (14.8447, 96) radius 4
  point P0 (2.9257, 0)
extrude "Extrusion5" cut sketch "Sketch6" against normal blind 36.6522 contours A15 | A16 | A17 | A18 | A19 | A20 | A21 | A22 | A23 | A74 | A75 | A76 | A77 | A78 | A100 | A101 | A102
properties part number "Brace"
